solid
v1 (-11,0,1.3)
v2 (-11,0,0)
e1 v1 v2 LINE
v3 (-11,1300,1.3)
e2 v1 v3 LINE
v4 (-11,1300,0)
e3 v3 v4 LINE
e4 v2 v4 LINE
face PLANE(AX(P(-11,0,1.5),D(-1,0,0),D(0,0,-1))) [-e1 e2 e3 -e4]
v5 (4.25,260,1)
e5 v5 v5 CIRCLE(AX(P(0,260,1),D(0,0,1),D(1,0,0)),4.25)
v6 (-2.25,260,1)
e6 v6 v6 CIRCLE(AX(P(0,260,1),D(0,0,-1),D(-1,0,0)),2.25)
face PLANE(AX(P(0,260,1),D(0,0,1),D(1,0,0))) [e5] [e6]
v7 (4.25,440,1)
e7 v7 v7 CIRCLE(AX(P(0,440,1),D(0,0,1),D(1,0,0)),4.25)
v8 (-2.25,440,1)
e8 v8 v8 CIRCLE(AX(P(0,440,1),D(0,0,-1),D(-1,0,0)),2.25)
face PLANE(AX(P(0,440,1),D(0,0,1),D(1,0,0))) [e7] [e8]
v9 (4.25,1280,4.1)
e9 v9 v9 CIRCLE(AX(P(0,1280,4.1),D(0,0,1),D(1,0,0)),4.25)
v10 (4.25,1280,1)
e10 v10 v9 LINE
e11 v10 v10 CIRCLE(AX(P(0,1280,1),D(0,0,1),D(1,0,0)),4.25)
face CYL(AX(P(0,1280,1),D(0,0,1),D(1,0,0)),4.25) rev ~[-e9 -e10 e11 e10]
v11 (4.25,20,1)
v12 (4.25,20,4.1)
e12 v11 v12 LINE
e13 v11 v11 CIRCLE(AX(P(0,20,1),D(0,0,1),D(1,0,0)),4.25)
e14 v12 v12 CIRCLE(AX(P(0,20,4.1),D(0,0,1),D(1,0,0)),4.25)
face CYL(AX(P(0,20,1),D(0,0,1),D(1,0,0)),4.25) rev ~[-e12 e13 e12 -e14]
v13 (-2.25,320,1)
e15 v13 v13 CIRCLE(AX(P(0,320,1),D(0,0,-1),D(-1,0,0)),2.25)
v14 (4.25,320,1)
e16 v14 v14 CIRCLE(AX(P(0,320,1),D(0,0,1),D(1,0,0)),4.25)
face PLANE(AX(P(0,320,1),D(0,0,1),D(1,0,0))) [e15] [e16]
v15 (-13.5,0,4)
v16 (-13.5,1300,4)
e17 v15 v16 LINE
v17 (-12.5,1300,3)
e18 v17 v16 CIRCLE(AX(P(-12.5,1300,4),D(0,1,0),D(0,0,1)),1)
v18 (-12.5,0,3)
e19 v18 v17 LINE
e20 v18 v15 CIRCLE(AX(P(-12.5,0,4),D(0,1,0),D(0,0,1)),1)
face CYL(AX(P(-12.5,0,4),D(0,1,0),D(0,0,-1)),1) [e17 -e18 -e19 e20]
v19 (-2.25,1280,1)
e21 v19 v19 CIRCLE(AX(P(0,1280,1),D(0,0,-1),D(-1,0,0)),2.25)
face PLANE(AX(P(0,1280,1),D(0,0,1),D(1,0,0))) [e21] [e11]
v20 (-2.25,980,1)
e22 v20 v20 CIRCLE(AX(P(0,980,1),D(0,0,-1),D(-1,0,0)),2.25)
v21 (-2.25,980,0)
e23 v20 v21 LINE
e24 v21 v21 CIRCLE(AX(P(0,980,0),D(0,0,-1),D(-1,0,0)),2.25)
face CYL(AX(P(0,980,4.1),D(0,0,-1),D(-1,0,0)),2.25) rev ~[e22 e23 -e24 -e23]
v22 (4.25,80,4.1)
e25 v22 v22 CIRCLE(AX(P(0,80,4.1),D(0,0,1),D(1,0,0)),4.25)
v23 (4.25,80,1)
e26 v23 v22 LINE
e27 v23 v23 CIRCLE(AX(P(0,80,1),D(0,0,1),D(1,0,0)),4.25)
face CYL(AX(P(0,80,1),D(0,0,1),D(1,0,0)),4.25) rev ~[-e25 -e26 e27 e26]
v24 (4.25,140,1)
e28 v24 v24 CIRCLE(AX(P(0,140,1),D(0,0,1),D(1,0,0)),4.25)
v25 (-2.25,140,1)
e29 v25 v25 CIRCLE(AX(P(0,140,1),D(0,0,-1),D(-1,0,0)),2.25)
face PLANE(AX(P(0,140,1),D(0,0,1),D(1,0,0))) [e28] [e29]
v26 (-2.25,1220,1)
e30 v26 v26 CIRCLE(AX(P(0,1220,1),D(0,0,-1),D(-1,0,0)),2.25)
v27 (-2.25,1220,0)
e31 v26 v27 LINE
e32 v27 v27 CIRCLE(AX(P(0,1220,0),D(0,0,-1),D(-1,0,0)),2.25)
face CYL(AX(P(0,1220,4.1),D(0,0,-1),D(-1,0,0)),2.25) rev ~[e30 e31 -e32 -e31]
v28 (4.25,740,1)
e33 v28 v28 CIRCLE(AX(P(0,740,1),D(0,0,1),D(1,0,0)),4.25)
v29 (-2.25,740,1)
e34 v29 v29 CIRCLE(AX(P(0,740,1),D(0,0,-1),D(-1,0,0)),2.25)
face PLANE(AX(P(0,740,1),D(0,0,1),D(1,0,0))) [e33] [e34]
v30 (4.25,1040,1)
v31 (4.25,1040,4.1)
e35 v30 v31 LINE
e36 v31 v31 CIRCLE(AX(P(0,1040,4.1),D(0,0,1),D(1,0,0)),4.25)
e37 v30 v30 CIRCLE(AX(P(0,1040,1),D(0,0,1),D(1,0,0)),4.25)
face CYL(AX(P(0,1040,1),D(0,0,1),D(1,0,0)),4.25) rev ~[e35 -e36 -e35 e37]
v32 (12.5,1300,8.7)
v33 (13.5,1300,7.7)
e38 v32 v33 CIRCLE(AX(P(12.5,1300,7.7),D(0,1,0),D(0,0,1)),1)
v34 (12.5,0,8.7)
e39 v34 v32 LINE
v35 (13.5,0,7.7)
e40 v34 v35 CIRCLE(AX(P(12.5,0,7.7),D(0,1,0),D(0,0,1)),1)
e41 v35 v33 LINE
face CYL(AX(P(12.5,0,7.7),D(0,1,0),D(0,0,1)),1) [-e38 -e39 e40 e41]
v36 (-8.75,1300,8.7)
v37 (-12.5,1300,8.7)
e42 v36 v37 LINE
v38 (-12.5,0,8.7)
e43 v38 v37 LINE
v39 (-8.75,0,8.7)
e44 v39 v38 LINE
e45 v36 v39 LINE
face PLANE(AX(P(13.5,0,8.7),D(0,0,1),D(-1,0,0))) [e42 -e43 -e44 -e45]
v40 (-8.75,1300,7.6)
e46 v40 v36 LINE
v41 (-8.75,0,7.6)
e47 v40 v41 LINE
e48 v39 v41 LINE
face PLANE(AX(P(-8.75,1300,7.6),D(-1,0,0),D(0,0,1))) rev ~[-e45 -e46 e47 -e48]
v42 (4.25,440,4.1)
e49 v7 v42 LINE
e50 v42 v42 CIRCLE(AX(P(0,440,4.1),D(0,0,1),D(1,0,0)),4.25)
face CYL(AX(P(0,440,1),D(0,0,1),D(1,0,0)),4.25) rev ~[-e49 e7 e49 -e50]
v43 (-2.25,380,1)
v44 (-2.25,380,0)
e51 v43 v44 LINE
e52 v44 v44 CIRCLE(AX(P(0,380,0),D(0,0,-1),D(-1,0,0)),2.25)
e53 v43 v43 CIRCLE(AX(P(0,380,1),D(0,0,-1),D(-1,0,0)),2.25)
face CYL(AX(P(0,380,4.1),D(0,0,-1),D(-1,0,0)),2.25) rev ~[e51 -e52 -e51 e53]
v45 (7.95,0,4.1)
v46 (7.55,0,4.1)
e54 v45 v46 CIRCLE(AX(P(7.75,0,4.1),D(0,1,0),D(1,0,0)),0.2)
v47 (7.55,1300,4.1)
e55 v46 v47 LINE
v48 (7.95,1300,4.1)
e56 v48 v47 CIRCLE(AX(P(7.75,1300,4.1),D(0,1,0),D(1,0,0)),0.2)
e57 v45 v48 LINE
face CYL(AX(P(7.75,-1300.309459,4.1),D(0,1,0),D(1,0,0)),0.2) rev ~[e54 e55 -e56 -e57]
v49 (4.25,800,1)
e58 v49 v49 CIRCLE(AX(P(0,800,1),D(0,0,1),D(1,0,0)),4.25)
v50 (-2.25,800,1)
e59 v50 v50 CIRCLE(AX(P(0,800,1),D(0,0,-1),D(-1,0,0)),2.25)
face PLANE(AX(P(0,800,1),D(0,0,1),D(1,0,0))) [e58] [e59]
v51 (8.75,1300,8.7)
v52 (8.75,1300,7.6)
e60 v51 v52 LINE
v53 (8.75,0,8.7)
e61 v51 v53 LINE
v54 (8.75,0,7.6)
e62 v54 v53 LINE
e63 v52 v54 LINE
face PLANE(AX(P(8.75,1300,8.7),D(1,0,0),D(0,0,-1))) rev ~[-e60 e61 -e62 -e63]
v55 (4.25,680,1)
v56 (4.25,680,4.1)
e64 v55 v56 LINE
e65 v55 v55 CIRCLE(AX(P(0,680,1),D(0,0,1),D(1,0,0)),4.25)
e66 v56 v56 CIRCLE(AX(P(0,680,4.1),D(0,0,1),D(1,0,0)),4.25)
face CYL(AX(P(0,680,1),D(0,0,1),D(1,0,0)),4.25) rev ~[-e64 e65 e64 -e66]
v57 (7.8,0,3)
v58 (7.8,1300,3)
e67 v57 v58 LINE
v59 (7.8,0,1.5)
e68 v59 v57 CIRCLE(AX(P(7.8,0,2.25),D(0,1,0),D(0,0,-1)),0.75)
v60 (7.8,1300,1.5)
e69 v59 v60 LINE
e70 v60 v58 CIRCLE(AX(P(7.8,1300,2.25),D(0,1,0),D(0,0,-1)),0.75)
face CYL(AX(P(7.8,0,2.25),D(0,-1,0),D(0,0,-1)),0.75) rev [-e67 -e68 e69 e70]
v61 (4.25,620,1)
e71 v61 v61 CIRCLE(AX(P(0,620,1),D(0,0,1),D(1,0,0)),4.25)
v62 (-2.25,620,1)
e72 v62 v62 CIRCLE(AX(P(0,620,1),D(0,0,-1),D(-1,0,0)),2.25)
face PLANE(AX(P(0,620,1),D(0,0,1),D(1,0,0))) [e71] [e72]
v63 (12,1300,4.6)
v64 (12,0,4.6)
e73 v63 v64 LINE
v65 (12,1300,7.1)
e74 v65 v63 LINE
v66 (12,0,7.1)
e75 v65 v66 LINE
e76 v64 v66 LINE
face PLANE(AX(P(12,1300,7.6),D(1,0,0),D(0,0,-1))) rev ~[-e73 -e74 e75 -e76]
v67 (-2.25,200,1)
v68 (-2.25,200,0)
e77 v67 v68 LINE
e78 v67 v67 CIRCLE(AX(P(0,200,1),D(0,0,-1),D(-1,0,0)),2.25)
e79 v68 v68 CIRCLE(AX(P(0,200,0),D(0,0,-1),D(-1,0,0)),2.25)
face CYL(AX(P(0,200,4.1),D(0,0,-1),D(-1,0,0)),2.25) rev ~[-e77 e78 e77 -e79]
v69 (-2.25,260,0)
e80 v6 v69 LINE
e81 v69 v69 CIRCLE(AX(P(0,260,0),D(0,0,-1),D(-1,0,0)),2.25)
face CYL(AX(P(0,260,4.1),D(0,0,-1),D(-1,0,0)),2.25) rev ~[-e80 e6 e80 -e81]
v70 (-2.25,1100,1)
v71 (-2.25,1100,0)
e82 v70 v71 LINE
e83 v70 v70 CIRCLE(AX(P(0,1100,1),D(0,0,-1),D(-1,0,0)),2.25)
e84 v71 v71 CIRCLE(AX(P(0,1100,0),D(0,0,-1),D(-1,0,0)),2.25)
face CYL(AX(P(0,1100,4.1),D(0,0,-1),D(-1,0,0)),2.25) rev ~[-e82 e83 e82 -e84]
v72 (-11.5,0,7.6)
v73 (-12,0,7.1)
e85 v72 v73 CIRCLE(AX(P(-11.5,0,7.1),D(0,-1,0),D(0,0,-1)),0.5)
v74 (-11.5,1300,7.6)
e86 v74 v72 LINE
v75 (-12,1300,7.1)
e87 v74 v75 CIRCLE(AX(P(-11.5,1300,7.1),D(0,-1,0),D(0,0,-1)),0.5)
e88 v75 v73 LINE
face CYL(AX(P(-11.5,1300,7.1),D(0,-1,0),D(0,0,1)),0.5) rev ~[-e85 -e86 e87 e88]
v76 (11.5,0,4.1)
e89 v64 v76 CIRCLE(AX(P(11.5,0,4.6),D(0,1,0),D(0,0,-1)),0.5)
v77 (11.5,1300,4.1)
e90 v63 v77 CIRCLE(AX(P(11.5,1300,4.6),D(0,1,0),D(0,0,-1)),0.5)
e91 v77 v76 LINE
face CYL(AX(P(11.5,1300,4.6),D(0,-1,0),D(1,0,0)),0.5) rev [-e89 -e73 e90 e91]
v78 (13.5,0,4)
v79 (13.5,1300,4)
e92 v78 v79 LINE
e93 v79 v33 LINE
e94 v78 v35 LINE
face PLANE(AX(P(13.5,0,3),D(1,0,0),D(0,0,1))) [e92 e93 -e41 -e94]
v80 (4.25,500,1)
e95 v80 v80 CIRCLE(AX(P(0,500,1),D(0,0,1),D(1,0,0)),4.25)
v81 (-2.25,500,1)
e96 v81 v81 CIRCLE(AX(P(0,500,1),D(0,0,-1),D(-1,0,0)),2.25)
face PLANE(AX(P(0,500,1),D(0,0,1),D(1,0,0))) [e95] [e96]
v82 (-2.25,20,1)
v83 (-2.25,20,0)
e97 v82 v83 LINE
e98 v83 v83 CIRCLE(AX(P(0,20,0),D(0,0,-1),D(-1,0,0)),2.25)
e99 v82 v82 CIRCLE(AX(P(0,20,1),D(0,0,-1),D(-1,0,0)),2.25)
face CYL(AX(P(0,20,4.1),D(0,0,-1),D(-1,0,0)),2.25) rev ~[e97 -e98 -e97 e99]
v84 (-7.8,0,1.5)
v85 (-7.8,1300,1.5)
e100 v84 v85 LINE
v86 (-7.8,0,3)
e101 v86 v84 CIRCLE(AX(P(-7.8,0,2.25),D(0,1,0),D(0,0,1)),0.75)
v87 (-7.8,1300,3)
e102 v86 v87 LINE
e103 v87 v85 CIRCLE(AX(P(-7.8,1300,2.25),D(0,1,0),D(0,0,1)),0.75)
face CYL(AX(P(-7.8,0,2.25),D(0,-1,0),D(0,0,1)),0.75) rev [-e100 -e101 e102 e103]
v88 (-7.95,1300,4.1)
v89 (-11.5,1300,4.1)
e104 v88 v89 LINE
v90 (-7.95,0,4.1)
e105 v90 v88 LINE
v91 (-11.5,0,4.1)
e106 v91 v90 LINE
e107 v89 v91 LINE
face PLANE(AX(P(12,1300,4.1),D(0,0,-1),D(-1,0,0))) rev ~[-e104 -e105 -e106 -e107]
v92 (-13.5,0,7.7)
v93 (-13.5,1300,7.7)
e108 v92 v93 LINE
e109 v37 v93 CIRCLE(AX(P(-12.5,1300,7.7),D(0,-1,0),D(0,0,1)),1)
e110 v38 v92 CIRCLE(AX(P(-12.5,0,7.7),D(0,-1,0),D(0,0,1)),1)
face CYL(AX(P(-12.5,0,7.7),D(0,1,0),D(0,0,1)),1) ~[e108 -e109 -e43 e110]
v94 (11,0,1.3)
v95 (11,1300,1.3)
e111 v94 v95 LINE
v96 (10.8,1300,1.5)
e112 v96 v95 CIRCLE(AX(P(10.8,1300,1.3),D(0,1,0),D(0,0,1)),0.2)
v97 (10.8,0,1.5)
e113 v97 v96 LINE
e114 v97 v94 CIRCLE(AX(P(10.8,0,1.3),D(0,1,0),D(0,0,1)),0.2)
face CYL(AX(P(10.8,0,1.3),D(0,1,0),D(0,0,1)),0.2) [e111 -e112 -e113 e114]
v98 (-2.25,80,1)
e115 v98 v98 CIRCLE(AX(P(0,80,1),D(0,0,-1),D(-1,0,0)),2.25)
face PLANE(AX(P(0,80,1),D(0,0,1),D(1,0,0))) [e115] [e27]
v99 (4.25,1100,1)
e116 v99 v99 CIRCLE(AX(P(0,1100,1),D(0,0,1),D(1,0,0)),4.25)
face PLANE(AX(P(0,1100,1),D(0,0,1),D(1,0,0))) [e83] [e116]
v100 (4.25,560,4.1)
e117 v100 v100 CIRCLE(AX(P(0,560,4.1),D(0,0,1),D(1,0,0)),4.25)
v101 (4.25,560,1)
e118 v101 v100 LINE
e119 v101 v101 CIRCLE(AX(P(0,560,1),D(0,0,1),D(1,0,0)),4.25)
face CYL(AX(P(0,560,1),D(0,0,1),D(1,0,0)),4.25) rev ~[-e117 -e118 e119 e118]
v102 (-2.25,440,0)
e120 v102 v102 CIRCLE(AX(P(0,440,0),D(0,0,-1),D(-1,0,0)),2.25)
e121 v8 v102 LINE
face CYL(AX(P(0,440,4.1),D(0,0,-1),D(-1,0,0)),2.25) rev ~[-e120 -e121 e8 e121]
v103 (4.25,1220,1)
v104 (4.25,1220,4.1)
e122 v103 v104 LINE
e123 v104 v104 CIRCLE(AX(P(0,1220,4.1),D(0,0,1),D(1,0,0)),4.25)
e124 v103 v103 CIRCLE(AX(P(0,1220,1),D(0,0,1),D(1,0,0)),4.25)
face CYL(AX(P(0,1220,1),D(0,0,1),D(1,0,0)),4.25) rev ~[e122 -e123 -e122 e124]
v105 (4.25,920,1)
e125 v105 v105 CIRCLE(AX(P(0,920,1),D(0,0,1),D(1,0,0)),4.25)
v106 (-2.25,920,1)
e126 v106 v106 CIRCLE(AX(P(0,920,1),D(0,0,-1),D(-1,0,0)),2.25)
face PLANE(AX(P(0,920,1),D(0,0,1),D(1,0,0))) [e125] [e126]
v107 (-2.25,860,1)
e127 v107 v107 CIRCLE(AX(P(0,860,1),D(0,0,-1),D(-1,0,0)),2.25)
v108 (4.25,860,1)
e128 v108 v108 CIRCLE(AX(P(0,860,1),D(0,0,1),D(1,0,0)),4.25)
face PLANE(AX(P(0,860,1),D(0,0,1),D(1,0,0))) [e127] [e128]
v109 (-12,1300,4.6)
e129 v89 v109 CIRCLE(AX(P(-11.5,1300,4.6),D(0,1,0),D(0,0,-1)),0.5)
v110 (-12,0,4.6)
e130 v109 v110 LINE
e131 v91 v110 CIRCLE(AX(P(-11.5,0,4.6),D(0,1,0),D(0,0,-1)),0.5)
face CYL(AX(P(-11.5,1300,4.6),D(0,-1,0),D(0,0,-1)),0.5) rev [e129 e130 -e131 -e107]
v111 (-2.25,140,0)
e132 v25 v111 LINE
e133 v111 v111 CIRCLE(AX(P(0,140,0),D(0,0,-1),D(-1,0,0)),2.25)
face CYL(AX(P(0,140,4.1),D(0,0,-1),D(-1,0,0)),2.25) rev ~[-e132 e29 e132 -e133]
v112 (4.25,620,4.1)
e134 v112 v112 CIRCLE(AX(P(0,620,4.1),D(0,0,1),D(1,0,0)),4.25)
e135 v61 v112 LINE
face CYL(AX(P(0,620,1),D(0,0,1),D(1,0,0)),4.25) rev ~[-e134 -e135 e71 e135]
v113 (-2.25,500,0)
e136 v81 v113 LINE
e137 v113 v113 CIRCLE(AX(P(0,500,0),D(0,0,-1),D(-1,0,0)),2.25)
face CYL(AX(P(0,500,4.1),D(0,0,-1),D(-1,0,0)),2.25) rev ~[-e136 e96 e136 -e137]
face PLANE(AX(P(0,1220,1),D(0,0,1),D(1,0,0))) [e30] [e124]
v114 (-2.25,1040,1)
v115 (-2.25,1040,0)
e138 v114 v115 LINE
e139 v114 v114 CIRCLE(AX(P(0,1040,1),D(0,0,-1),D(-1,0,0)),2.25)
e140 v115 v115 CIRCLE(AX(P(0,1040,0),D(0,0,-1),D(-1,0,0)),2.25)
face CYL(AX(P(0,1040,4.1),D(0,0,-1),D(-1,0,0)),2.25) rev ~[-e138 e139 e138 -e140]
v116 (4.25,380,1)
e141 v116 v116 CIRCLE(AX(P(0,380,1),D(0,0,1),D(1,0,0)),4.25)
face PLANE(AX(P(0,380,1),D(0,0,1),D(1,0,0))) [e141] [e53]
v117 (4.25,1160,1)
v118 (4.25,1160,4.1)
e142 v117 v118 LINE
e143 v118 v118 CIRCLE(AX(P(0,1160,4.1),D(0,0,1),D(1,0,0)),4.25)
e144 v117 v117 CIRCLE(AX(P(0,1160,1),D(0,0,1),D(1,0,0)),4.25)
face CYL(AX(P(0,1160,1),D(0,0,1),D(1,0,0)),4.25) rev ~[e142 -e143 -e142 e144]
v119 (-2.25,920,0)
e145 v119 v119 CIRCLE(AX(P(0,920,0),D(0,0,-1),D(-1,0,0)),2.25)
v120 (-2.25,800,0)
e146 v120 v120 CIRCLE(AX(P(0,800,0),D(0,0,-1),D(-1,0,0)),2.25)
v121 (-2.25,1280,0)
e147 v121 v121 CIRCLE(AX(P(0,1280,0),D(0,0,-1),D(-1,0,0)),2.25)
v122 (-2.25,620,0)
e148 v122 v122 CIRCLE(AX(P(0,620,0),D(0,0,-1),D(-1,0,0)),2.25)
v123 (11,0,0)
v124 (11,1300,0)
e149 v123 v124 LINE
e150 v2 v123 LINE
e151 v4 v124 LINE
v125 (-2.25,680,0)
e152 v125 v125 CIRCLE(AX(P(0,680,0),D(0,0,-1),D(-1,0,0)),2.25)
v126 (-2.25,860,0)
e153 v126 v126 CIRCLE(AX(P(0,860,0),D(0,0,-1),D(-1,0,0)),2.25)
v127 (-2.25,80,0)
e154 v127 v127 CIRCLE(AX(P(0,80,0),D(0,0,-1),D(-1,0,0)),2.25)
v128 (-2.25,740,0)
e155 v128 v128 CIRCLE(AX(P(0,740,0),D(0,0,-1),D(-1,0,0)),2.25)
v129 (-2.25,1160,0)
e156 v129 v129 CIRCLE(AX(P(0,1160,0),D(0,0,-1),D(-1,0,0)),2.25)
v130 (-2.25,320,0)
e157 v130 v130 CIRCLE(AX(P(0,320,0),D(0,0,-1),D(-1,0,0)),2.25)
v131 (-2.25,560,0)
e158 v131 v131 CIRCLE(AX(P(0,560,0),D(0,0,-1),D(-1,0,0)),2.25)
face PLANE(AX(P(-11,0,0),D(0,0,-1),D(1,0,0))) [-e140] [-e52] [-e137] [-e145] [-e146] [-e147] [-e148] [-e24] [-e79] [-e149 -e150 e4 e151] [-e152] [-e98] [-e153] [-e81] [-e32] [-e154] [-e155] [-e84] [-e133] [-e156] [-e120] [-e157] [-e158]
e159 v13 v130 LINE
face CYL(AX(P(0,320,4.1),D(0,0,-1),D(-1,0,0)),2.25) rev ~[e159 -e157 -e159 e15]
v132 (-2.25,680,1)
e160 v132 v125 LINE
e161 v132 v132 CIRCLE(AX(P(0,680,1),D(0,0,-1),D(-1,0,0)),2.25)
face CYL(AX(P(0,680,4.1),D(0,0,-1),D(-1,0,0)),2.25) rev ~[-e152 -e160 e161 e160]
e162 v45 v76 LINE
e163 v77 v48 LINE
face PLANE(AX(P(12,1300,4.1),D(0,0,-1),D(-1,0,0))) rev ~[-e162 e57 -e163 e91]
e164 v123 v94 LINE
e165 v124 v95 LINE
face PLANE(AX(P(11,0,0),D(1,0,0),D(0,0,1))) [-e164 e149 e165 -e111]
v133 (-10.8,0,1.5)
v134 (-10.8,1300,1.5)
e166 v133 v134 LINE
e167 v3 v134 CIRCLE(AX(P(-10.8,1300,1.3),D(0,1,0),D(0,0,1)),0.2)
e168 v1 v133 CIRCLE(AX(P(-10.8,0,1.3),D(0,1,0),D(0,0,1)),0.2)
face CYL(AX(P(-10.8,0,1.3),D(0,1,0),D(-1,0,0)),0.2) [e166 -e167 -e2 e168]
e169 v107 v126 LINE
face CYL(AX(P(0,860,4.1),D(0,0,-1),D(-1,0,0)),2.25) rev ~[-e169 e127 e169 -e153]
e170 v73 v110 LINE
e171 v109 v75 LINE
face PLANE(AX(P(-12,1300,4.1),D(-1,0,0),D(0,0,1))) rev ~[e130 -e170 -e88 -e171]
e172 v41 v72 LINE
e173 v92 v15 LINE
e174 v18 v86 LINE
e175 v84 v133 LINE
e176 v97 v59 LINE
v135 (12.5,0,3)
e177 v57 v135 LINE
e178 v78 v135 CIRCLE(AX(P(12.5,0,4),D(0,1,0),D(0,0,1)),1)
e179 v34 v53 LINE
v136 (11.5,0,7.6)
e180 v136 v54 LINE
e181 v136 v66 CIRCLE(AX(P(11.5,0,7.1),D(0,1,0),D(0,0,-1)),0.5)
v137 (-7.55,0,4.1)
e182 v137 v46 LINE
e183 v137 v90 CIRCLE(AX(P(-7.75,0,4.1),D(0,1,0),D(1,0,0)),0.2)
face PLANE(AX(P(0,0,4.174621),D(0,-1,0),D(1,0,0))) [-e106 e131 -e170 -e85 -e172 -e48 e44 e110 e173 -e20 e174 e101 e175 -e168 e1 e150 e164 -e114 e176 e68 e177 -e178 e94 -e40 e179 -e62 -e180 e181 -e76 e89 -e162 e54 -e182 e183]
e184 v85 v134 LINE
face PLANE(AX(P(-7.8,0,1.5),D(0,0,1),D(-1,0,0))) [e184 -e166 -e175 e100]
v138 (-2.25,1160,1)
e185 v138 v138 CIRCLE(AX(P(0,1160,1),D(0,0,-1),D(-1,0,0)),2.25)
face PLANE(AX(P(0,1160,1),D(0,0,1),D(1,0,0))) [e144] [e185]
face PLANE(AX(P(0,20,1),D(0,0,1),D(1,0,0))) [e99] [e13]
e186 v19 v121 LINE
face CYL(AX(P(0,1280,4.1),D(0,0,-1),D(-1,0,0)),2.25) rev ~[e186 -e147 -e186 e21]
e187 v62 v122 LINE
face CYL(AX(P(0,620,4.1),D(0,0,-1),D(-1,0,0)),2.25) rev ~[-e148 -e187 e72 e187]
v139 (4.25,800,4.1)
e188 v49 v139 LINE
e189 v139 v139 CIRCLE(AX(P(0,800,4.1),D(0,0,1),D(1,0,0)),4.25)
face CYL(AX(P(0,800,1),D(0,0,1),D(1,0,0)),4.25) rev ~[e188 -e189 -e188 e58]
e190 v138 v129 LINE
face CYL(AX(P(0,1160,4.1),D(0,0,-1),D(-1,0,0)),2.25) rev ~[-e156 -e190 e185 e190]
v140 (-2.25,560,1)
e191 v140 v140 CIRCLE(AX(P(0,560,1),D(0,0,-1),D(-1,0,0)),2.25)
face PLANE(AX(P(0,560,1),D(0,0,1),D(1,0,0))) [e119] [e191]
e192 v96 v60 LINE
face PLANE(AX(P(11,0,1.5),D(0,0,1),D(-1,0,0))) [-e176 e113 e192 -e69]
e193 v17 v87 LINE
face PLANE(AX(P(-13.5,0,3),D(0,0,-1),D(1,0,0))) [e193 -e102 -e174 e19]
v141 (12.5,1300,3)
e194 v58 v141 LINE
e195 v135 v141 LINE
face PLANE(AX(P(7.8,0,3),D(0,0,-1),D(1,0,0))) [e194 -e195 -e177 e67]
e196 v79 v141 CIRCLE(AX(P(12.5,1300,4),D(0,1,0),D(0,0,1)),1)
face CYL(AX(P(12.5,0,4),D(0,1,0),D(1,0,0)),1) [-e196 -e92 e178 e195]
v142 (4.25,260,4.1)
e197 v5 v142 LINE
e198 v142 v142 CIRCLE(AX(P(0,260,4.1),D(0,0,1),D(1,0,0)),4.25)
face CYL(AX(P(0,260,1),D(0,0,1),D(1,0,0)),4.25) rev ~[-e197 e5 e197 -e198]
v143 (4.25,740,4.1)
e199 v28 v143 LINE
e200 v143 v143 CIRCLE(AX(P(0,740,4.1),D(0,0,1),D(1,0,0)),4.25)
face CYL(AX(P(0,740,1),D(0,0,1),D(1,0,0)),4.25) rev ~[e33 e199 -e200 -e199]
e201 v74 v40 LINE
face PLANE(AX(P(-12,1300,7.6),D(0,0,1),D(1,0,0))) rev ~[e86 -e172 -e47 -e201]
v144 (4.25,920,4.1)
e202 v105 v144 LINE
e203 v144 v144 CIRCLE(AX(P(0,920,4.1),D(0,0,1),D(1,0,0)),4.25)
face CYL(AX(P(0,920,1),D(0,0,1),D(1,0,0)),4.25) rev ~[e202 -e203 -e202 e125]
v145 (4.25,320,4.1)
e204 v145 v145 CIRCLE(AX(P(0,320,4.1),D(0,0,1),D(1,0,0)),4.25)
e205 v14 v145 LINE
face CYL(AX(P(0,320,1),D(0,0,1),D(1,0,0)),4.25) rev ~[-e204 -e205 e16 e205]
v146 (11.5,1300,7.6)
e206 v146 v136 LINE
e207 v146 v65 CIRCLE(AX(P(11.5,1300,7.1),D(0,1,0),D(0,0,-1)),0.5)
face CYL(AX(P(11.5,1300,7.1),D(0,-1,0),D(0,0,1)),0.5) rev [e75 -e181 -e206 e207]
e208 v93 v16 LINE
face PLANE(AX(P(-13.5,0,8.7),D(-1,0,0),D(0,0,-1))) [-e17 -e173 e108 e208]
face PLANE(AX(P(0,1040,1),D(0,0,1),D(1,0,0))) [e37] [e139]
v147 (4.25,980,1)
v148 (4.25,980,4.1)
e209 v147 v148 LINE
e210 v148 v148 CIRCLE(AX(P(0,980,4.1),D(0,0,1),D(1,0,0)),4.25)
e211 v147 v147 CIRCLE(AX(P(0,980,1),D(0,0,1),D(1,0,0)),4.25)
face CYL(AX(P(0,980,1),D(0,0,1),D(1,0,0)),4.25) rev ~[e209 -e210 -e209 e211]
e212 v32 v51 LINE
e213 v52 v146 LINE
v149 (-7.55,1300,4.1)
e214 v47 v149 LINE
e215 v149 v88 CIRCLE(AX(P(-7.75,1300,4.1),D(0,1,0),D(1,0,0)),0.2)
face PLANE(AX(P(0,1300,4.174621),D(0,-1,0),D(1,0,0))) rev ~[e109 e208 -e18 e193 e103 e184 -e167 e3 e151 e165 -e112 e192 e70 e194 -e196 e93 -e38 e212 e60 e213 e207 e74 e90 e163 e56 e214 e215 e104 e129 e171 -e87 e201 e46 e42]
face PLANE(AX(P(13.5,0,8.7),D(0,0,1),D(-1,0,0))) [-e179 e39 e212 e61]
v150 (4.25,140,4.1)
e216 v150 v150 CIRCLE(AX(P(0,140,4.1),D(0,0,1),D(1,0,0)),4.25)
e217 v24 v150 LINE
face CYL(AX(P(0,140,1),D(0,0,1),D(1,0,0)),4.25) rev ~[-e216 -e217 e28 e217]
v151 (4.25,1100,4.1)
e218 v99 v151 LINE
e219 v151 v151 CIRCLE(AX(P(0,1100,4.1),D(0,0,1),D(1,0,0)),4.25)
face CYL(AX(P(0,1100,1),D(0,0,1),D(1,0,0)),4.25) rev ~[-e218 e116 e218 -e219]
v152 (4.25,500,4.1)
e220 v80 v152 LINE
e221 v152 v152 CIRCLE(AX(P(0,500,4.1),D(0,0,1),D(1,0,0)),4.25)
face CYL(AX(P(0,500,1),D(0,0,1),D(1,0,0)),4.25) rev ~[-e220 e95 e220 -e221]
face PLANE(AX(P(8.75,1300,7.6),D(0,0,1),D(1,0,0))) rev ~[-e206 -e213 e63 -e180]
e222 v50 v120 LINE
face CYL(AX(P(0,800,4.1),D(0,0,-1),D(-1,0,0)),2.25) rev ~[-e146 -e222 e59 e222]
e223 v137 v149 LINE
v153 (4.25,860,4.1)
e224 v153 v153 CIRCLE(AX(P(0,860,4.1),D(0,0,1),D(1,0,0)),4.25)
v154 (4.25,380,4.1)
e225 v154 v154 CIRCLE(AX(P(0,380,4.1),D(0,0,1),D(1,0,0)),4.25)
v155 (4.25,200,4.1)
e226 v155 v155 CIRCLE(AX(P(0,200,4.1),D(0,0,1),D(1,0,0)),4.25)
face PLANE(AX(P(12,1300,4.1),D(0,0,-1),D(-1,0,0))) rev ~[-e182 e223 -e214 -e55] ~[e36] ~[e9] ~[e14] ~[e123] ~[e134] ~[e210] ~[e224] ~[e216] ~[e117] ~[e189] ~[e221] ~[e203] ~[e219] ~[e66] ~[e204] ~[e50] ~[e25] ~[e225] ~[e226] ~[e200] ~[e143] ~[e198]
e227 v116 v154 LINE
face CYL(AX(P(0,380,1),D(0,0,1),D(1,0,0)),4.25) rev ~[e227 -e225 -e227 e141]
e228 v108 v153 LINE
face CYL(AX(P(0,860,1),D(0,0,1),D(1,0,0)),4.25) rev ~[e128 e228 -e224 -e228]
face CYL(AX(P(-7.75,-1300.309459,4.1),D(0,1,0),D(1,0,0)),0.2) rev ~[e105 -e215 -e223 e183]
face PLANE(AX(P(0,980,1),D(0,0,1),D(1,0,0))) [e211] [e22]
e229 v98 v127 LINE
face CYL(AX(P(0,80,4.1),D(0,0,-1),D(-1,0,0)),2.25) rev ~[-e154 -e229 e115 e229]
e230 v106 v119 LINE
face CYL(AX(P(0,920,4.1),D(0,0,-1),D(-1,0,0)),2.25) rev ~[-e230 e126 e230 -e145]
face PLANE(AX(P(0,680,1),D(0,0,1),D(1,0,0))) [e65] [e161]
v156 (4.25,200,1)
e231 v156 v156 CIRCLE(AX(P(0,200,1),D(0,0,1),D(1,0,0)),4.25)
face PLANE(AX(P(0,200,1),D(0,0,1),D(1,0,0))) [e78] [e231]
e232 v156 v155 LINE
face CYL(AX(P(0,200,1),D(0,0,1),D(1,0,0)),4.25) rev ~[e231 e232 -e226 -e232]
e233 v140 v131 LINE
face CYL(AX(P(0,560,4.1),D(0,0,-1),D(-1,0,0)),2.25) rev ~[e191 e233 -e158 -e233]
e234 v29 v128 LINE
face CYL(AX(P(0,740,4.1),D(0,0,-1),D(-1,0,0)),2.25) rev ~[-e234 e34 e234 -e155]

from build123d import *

# Parameters (mm, degrees)
BOSS_EXTRU_1_DEPTH                                 = 1300
ENL_V_MAT_EXTRU_1_DEPTH                            = 1301.099203907
DIAM_TRE_DU_PER_AGE_0_4_0_4_1_D                    = 0.4
CHAMBRAGE_POUR_VIS_T_TE_HEXAGONALE_M41_D           = 4.5
CHAMBRAGE_POUR_VIS_T_TE_HEXAGONALE_M41_CBORE_D     = 8.5
CHAMBRAGE_POUR_VIS_T_TE_HEXAGONALE_M41_CBORE_DEPTH = 3.1
CONG_1_R                                           = 0.2
CONG_2_R                                           = 0.5
CONG_3_R                                           = 1
R_P_TITION_LIN_AIRE1_COUNT                         = 21
R_P_TITION_LIN_AIRE1_PITCH                         = 60


with BuildPart() as part:
    # Esquisse1 → Boss.-Extru.1 (new body)
    with BuildSketch(Plane.XZ):
        with BuildLine():
            Line((13.5, 3), (13.5, 8.7))
            Line((13.5, 8.7), (-13.5, 8.7))
            Line((-13.5, 8.7), (-13.5, 3))
            Line((-13.5, 3), (-7.8, 3))
            ThreePointArc((-7.8, 3), (-7.05, 2.25), (-7.8, 1.5))
            Line((-7.8, 1.5), (-11, 1.5))
            Line((-11, 1.5), (-11, 0))
            Line((-11, 0), (11, 0))
            Line((11, 0), (11, 1.5))
            Line((11, 1.5), (7.8, 1.5))
            ThreePointArc((7.8, 1.5), (7.05, 2.25), (7.8, 3))
            Line((7.8, 3), (13.5, 3))
        make_face()
    extrude(amount=-BOSS_EXTRU_1_DEPTH)

    # Esquisse2 → Enlèv. mat.-Extru.1 (cut, through all)
    with BuildSketch(Plane(origin=(0, 1300, 0), x_dir=(-1, 0, 0), z_dir=(0, 1, 0))):
        Polygon((8.75, 8.7), (-8.75, 8.7), (-8.75, 7.6), (-12, 7.6), (-12, 4.1), (12, 4.1), (12, 7.6), (8.75, 7.6), align=None)
    extrude(amount=-ENL_V_MAT_EXTRU_1_DEPTH, mode=Mode.SUBTRACT)

    # Diamètre du perçage Ø0.4 (0.4)1 (through all)
    with Locations(Plane(origin=(0, 0, 0), x_dir=(-1, 0, 0), z_dir=(0, -1, 0))):
        with Locations((7.75, -4.1), (-7.75, -4.1)):
            Hole(DIAM_TRE_DU_PER_AGE_0_4_0_4_1_D / 2)

    # Chambrage pour vis à tête hexagonale M41 (through all)
    with Locations(Plane.XY.offset(4.1)):
        with Locations((0, 20), (0, 80)):
            chambrage_pour_vis_t_te_hexagonale_m41 = CounterBoreHole(CHAMBRAGE_POUR_VIS_T_TE_HEXAGONALE_M41_D / 2, CHAMBRAGE_POUR_VIS_T_TE_HEXAGONALE_M41_CBORE_D / 2, CHAMBRAGE_POUR_VIS_T_TE_HEXAGONALE_M41_CBORE_DEPTH)

    # Congé1
    cong_1_edges = [part.edges().sort_by_distance(p)[0] for p in [
        (11, 650, 1.5),
        (-11, 650, 1.5),
    ]]
    fillet(cong_1_edges, radius=CONG_1_R)

    # Congé2
    cong_2_edges = [part.edges().sort_by_distance(p)[0] for p in [
        (-12, 650, 7.6),
        (-12, 650, 4.1),
        (12, 650, 4.1),
        (12, 650, 7.6),
    ]]
    fillet(cong_2_edges, radius=CONG_2_R)

    # Congé3
    cong_3_edges = [part.edges().sort_by_distance(p)[0] for p in [
        (-13.5, 650, 3),
        (-13.5, 650, 8.7),
        (13.5, 650, 8.7),
        (13.5, 650, 3),
    ]]
    fillet(cong_3_edges, radius=CONG_3_R)

    # Répétition linéaire1: Chambrage pour vis à tête hexagonale M41 ×21
    with Locations(*[(0, i * R_P_TITION_LIN_AIRE1_PITCH, 0) for i in range(1, R_P_TITION_LIN_AIRE1_COUNT)]):
        add(chambrage_pour_vis_t_te_hexagonale_m41, mode=Mode.SUBTRACT)


solid = part.part
